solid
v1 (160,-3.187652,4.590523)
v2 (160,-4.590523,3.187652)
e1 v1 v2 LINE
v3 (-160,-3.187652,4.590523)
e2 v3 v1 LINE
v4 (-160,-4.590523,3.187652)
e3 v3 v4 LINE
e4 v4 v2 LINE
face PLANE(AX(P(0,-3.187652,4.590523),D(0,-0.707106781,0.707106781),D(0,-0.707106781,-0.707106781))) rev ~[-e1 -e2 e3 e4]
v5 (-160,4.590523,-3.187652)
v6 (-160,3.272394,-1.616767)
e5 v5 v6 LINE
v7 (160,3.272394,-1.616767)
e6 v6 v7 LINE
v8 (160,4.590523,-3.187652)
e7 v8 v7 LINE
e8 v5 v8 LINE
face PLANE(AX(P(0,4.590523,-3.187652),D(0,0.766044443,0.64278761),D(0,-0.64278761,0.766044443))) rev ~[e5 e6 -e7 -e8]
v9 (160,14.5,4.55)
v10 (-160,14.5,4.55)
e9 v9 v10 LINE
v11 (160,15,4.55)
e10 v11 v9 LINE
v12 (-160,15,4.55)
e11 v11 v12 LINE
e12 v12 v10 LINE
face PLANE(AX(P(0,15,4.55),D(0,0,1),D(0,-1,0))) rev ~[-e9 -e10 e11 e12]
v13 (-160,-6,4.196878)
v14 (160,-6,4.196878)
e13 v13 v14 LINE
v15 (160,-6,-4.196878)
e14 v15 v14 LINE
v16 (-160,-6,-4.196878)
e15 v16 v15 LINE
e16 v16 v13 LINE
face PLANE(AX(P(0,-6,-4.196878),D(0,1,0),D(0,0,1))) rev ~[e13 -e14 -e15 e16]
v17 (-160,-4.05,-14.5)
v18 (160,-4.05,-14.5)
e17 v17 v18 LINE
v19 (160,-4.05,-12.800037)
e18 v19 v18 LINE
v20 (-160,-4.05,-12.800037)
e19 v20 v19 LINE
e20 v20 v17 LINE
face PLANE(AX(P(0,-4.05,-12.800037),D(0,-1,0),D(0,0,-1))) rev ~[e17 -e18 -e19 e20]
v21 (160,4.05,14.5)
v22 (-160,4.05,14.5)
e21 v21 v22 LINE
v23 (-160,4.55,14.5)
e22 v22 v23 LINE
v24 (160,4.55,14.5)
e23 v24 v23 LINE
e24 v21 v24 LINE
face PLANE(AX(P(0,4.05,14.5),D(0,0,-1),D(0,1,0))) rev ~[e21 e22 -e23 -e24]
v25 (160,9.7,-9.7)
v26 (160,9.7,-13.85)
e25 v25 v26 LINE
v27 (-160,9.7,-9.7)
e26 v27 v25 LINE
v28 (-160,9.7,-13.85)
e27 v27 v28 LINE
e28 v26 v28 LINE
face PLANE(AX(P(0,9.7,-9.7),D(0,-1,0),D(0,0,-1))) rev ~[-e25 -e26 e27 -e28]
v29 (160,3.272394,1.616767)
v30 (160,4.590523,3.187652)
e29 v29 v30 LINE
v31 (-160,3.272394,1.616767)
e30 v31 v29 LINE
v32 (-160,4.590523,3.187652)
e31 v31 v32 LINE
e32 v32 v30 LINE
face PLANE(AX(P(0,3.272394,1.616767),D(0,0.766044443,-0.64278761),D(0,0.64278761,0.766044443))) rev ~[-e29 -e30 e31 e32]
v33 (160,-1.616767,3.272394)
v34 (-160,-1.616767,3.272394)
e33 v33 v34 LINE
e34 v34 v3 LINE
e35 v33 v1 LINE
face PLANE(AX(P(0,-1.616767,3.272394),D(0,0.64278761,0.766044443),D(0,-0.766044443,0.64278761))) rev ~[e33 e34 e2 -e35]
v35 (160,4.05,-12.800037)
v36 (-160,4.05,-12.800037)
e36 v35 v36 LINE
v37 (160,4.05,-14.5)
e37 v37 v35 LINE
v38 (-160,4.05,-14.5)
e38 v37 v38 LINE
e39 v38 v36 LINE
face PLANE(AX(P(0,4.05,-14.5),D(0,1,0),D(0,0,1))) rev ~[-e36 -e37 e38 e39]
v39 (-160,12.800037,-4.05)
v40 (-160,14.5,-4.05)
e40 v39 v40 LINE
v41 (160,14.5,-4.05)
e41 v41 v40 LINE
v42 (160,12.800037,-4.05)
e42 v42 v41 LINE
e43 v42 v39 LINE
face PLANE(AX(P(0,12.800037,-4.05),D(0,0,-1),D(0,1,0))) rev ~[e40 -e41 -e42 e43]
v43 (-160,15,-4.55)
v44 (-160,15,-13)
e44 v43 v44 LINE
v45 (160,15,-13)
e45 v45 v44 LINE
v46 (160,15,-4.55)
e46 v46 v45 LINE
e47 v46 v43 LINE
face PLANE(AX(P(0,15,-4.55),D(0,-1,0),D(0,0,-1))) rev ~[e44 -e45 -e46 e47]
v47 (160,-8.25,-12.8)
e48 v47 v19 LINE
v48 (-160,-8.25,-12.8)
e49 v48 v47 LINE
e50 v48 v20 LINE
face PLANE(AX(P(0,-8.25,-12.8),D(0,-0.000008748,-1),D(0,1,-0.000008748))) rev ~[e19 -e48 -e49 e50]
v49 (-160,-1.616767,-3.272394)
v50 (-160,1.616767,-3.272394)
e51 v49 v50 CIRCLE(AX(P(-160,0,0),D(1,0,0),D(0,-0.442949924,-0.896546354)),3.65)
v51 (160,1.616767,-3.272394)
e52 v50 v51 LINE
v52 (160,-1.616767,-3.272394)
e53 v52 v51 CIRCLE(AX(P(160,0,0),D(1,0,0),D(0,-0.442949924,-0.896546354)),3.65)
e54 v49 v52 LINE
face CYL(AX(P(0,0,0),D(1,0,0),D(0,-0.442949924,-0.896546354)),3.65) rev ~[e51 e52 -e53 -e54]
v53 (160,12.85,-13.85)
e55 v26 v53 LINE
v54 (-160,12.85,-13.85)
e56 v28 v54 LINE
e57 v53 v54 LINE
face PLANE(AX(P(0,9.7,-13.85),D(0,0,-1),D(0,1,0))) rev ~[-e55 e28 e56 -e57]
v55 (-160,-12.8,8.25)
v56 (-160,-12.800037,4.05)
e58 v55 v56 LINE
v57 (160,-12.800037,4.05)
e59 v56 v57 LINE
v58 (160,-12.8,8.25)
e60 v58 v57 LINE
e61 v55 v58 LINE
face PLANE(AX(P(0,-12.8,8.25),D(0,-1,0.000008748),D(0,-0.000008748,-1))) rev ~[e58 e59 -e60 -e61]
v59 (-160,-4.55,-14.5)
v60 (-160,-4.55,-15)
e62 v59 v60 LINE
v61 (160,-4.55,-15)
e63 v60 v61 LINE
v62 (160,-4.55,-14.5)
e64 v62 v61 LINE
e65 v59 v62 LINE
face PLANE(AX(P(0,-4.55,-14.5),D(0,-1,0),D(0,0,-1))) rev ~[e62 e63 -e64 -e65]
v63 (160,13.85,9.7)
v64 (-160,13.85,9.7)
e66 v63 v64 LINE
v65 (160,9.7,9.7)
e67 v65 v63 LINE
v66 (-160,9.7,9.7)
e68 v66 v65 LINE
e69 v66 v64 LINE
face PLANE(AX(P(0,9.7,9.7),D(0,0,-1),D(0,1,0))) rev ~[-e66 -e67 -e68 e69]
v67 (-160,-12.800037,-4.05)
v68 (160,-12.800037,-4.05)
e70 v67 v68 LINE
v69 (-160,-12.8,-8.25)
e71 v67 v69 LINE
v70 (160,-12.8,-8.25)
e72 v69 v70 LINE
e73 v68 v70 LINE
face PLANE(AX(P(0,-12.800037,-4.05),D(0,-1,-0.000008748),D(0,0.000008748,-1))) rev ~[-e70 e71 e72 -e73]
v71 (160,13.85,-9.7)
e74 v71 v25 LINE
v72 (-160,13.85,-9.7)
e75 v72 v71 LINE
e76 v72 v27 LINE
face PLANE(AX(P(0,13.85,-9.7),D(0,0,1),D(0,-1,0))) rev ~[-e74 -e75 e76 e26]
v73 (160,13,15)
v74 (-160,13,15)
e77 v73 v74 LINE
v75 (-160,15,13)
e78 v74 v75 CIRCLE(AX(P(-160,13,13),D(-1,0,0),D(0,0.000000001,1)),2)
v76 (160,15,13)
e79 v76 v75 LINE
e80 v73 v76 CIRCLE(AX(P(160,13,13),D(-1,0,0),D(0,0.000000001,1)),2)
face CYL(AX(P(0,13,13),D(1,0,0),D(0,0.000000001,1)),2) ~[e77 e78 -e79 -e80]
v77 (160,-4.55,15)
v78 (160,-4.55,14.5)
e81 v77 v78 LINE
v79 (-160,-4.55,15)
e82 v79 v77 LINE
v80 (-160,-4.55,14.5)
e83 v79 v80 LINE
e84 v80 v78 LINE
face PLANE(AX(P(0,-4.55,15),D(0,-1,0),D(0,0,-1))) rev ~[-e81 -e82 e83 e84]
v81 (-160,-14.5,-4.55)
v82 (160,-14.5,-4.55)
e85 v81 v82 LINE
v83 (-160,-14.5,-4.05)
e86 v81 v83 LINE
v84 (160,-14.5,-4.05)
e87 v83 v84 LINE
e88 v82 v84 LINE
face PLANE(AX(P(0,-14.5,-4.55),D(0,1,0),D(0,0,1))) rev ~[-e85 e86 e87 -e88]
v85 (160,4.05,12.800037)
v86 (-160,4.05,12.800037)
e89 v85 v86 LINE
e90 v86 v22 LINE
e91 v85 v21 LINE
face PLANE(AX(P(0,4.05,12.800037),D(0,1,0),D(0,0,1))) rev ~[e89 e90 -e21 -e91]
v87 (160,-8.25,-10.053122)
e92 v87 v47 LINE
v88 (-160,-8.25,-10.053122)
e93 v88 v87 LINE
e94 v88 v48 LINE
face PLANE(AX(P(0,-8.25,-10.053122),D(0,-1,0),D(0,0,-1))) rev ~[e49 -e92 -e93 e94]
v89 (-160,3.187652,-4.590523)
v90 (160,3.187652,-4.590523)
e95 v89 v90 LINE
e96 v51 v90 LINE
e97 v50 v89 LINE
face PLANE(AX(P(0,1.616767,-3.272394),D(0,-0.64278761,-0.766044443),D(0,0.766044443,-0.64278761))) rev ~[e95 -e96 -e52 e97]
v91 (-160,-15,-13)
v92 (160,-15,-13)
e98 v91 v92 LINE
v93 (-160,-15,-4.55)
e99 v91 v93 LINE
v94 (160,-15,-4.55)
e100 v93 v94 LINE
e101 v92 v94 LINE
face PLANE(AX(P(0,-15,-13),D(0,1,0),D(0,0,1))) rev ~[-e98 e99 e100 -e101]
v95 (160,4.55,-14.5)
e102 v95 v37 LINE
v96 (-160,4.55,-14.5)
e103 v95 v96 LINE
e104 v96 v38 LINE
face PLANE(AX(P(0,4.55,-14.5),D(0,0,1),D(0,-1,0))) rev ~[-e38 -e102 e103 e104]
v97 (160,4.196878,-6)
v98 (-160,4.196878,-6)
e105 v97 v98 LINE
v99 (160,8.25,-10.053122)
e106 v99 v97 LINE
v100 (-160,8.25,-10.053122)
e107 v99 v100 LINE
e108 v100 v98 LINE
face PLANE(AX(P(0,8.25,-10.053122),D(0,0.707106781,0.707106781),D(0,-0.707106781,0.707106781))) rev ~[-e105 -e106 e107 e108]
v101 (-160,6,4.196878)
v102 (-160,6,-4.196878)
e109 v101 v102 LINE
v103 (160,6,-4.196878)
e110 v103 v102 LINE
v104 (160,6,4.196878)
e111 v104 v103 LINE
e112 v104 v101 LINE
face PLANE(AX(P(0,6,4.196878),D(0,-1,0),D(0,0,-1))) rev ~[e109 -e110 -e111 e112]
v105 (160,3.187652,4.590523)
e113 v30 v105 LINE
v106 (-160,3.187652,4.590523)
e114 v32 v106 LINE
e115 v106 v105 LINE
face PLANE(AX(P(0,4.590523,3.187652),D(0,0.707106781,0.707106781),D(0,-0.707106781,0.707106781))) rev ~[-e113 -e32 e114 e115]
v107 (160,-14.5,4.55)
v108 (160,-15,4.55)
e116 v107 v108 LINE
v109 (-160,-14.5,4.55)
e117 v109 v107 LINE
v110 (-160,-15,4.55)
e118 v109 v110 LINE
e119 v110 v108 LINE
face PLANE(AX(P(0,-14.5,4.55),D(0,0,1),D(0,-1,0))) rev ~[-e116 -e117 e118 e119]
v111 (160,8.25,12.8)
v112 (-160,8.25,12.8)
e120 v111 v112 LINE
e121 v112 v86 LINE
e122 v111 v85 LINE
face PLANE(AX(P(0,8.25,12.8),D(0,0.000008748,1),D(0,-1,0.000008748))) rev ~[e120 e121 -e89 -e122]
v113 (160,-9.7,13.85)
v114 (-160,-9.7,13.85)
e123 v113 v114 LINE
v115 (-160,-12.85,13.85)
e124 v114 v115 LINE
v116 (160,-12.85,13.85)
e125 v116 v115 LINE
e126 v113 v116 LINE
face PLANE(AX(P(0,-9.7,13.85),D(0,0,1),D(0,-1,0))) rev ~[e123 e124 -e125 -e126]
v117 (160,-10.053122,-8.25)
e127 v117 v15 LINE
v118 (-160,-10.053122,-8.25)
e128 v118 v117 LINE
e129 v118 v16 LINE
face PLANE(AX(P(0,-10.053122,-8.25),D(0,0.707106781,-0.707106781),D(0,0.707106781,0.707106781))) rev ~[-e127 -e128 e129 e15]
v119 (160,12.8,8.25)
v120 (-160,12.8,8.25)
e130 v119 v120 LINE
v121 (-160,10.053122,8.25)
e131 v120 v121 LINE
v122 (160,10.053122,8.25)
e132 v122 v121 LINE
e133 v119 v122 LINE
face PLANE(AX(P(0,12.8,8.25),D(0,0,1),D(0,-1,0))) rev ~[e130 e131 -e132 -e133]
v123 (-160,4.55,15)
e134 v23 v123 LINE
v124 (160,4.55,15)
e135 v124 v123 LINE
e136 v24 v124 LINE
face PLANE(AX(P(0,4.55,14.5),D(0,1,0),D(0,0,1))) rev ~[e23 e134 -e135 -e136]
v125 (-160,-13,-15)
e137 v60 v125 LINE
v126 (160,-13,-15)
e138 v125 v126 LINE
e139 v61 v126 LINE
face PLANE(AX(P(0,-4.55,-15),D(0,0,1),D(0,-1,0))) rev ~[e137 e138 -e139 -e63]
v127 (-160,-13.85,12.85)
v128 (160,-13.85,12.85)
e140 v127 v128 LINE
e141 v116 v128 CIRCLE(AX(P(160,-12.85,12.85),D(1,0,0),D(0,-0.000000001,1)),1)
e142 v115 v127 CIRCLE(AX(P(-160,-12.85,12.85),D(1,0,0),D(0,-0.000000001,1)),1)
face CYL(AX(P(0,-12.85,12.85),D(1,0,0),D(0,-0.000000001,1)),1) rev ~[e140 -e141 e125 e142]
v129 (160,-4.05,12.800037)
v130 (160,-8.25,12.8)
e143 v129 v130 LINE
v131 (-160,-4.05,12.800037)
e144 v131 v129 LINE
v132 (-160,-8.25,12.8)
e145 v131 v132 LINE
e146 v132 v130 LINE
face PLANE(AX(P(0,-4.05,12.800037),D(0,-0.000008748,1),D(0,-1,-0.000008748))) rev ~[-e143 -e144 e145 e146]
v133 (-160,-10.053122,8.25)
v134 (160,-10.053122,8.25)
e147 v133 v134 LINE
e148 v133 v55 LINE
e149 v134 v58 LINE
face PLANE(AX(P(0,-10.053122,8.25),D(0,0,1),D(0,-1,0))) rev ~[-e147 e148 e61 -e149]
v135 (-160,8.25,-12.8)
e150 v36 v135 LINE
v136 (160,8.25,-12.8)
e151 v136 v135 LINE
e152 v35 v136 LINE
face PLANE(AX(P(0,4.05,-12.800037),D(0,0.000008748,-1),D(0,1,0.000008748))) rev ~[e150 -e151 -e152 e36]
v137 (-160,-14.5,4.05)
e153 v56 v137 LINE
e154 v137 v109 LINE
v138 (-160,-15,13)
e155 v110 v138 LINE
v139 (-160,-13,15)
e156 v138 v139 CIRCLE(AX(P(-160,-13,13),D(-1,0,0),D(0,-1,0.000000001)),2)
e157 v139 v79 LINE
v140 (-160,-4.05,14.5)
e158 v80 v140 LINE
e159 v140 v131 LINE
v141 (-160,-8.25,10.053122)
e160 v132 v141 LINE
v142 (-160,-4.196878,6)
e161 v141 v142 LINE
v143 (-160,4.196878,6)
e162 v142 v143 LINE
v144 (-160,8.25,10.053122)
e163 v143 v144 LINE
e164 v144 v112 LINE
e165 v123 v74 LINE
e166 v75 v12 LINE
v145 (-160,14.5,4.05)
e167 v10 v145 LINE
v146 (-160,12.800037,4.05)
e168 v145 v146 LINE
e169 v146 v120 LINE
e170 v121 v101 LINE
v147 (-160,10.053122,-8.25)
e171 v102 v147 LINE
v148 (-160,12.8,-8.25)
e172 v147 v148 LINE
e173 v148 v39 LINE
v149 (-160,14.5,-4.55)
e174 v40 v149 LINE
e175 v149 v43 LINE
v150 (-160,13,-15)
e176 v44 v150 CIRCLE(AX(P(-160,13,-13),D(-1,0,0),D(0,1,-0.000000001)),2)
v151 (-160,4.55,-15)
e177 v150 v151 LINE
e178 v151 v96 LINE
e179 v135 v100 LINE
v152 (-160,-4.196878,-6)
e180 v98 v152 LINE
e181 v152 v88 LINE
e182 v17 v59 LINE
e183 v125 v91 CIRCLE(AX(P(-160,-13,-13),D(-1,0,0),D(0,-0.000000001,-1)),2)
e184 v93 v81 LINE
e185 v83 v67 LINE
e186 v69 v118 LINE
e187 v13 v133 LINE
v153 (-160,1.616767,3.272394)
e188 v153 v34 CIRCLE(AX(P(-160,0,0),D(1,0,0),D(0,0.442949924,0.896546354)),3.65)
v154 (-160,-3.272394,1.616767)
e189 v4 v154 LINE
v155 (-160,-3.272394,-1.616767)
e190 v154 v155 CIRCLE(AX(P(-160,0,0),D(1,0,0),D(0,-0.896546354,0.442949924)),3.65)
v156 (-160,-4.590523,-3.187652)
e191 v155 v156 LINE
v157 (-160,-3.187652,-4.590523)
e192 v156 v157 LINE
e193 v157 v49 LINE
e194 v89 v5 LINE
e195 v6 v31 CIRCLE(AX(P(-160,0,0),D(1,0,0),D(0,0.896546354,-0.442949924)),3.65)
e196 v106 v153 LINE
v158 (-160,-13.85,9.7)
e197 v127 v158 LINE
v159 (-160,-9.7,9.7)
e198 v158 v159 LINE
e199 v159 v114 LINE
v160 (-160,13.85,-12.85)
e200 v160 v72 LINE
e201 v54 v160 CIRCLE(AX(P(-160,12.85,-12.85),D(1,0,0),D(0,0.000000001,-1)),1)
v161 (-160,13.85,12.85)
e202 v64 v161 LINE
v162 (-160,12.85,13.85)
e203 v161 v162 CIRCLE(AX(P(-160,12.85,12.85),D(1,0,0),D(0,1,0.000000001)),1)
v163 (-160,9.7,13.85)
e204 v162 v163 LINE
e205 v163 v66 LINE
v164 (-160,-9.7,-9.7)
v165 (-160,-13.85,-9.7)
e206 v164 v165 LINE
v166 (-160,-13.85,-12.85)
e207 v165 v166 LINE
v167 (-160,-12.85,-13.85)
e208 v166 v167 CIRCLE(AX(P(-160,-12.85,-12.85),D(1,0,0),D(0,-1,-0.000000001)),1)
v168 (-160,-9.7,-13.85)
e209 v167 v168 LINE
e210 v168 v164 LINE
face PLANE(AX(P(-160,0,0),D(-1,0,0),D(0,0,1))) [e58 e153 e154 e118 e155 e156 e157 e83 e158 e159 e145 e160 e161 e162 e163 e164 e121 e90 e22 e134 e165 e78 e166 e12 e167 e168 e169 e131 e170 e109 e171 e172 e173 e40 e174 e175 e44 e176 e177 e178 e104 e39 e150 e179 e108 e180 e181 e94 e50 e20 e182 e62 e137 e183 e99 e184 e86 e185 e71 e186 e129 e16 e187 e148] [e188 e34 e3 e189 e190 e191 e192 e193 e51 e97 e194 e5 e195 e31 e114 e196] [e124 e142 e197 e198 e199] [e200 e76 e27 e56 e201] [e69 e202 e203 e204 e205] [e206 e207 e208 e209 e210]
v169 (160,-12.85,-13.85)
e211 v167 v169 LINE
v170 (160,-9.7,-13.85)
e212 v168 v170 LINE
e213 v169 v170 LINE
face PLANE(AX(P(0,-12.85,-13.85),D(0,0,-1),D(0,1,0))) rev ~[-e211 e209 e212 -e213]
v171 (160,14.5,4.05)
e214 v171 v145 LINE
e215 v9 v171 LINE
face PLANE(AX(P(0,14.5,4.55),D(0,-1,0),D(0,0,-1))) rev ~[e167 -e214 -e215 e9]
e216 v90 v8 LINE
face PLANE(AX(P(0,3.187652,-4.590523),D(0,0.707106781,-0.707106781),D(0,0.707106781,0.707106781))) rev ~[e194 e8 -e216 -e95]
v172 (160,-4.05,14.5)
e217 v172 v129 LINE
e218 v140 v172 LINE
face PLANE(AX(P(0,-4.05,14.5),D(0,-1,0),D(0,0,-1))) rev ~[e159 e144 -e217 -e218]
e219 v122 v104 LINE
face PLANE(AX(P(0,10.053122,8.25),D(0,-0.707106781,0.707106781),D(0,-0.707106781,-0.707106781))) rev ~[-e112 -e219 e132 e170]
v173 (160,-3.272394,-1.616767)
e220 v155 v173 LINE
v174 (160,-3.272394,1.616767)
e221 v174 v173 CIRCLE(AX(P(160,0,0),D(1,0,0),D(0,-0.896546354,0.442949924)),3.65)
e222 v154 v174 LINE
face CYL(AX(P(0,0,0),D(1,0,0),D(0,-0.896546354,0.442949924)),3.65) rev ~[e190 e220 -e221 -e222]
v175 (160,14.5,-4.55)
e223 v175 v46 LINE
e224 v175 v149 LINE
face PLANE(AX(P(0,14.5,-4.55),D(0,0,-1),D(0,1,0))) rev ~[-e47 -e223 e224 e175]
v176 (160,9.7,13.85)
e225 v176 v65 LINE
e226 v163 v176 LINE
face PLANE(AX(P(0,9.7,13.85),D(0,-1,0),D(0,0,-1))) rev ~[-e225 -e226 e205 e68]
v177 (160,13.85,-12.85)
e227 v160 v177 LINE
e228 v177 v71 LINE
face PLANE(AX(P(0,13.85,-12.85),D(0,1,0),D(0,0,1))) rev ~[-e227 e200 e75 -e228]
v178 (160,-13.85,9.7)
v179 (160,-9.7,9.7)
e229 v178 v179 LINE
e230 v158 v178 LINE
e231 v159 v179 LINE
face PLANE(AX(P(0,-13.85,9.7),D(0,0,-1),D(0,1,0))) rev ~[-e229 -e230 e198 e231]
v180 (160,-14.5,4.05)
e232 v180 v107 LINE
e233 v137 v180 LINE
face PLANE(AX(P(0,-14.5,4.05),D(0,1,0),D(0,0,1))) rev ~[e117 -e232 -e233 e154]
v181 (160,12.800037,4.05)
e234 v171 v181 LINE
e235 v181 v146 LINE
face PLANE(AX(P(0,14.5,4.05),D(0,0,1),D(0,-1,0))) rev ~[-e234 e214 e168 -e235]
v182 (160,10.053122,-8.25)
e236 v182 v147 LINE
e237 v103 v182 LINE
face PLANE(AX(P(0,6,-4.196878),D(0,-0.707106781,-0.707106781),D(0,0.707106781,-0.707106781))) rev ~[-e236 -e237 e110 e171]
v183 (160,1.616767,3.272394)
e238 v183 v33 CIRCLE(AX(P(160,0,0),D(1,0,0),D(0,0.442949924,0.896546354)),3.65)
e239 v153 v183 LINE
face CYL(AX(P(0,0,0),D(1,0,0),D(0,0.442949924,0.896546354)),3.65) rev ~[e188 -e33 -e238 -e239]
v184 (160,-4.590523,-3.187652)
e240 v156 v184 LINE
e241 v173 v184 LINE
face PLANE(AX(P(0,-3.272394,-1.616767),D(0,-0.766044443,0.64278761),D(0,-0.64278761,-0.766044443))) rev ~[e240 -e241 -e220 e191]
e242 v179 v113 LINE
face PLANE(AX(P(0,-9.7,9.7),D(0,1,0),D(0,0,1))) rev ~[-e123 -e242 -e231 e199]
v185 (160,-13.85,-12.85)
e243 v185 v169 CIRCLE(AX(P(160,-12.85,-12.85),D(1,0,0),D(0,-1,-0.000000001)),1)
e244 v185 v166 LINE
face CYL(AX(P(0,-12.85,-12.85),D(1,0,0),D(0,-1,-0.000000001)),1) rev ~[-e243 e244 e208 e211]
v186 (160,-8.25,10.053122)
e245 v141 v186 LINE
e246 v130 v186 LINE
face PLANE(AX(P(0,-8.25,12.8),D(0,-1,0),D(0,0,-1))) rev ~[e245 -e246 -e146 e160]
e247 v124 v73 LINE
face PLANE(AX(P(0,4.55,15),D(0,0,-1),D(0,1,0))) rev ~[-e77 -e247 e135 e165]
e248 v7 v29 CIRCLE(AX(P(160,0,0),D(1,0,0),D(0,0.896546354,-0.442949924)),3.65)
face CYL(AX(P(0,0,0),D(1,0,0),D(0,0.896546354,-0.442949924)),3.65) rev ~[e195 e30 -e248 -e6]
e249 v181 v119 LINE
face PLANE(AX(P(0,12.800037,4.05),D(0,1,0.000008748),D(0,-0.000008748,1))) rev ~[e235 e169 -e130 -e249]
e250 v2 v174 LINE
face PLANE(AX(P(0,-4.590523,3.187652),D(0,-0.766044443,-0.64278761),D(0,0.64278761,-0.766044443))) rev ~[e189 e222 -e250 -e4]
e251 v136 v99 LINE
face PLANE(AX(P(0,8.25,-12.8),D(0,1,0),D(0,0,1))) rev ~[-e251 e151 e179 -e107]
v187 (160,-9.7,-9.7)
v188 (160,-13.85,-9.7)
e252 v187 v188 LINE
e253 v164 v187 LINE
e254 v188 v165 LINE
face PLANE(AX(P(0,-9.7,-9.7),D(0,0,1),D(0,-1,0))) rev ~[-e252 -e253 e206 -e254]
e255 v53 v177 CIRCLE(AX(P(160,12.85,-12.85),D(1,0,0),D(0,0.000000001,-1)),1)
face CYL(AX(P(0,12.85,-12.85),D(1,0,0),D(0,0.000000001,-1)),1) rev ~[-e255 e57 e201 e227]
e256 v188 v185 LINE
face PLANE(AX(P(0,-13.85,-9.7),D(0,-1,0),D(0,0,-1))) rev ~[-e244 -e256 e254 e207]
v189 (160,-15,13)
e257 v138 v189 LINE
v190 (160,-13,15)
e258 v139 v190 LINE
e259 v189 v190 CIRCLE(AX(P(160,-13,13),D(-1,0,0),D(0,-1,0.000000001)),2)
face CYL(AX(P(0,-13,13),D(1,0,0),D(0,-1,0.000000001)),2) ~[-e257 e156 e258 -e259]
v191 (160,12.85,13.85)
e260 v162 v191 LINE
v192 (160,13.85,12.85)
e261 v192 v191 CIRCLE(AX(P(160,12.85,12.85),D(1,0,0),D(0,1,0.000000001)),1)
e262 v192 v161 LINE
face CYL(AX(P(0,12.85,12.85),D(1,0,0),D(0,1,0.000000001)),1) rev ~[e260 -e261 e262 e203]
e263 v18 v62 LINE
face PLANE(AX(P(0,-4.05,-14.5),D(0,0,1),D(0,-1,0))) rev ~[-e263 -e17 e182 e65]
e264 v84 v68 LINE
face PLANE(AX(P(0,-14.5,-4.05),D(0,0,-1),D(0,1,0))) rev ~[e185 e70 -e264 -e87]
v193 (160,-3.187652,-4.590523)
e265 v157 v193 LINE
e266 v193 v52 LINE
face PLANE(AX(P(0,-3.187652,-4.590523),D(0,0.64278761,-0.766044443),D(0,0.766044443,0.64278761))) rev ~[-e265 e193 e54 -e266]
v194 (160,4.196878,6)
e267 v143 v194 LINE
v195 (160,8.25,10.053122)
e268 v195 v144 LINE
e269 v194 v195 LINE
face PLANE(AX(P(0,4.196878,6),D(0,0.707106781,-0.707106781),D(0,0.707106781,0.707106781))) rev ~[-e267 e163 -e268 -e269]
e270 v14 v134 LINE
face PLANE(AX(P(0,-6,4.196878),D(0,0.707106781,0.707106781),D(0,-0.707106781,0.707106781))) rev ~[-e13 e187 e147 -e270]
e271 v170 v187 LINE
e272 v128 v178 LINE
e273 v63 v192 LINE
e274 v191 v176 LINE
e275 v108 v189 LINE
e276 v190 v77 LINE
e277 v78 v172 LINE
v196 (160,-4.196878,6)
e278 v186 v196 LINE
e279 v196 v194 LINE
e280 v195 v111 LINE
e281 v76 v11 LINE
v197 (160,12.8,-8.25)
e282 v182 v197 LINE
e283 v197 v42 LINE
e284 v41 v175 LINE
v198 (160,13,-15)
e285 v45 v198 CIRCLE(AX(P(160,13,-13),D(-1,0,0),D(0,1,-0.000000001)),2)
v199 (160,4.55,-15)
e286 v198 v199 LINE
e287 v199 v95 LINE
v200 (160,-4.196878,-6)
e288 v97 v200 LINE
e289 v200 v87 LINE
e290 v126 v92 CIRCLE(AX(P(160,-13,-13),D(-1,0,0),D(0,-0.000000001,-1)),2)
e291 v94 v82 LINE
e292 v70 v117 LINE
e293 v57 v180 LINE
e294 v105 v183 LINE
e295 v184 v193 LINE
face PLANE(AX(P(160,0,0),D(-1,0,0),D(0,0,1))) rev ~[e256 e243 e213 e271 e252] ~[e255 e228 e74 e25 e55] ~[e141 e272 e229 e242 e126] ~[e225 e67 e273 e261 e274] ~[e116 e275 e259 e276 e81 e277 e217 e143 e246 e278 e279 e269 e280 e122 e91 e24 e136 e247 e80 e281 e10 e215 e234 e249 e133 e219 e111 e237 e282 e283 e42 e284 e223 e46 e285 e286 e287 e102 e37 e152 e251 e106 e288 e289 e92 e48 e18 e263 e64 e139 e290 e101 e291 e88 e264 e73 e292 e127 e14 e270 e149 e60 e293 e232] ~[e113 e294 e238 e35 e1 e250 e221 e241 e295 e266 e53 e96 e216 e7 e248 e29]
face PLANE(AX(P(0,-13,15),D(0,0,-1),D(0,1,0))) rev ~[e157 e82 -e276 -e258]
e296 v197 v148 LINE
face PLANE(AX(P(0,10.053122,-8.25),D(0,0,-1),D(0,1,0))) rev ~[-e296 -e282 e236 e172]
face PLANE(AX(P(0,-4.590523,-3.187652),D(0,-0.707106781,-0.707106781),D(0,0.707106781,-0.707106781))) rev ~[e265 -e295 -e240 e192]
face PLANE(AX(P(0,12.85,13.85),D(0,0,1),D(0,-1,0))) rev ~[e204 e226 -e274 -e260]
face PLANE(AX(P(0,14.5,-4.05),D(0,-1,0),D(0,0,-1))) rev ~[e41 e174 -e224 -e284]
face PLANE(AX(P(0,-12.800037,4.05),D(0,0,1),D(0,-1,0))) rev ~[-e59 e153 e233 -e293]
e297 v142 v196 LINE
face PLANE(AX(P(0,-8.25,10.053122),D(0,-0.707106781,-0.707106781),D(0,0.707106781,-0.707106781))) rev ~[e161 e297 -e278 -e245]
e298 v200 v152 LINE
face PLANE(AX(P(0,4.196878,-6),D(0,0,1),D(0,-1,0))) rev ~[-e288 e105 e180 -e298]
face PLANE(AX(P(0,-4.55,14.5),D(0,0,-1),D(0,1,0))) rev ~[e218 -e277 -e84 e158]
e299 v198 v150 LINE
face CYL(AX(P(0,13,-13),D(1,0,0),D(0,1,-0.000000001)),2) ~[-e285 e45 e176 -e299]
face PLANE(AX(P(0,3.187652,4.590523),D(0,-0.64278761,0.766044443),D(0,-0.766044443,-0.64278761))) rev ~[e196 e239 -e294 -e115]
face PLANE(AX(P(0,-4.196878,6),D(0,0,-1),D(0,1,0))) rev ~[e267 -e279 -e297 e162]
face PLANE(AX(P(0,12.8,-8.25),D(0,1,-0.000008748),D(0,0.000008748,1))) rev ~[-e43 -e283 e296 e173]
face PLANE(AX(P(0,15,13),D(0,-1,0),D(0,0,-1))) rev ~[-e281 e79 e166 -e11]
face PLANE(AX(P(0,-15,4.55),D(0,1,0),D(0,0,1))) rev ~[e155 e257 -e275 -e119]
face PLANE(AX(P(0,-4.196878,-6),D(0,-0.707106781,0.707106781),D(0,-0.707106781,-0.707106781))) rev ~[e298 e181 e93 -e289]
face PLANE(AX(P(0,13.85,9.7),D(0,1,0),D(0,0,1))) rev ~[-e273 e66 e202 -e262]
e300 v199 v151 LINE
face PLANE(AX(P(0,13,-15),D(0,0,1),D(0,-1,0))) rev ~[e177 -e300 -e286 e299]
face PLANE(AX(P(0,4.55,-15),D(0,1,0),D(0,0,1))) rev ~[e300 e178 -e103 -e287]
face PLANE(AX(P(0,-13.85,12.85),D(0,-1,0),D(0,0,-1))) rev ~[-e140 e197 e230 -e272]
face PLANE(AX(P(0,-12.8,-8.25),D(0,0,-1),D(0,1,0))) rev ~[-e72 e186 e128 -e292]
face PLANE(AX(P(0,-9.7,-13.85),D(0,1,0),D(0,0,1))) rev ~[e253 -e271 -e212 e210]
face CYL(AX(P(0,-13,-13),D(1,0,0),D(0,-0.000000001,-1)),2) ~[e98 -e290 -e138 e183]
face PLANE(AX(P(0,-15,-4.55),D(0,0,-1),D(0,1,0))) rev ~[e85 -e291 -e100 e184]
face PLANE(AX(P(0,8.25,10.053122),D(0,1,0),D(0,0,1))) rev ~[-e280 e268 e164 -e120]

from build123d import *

# Parameters (mm, degrees)
BR_EXTRUDE_DEPTH      = 160
BR_EXTRUDE_DEPTH_BACK = 160


with BuildPart() as part:
    # Sketch2 → BR_Extrude (new body, two sides)
    with BuildSketch(Plane(origin=(0, 0, 0), x_dir=(0, 0, -1), z_dir=(1, 0, 0))) as br_extrude_sk:
        with BuildLine():
            Line((-6, 4.196877708), (-10.053122292, 8.25))
            Line((-10.053122292, 8.25), (-12.8, 8.25))
            Line((-12.8, 8.25), (-12.800036742, 4.05))
            Line((-12.800036742, 4.05), (-14.5, 4.05))
            Line((-14.5, 4.05), (-14.5, 4.55))
            Line((-14.5, 4.55), (-15, 4.55))
            Line((-15, 4.55), (-15, 13))
            ThreePointArc((-15, 13), (-14.414213562, 14.414213562), (-13, 15))
            Line((-13, 15), (-4.55, 15))
            Line((-4.55, 15), (-4.55, 14.5))
            Line((-4.55, 14.5), (-4.05, 14.5))
            Line((-4.05, 14.5), (-4.05, 12.800036742))
            Line((-4.05, 12.800036742), (-8.25, 12.8))
            Line((-8.25, 12.8), (-8.25, 10.053122292))
            Line((-8.25, 10.053122292), (-4.196877708, 6))
            Line((-4.196877708, 6), (4.196877708, 6))
            Line((4.196877708, 6), (8.25, 10.053122292))
            Line((8.25, 10.053122292), (8.25, 12.8))
            Line((8.25, 12.8), (4.05, 12.800036742))
            Line((4.05, 12.800036742), (4.05, 14.5))
            Line((4.05, 14.5), (4.55, 14.5))
            Line((4.55, 14.5), (4.55, 15))
            Line((4.55, 15), (13, 15))
            ThreePointArc((13, 15), (14.414213562, 14.414213562), (15, 13))
            Line((15, 13), (15, 4.55))
            Line((15, 4.55), (14.5, 4.55))
            Line((14.5, 4.55), (14.5, 4.05))
            Line((14.5, 4.05), (12.800036742, 4.05))
            Line((12.800036742, 4.05), (12.8, 8.25))
            Line((12.8, 8.25), (10.053122292, 8.25))
            Line((10.053122292, 8.25), (6, 4.196877708))
            Line((6, 4.196877708), (6, -4.196877708))
            Line((6, -4.196877708), (10.053122292, -8.25))
            Line((10.053122292, -8.25), (12.8, -8.25))
            Line((12.8, -8.25), (12.800036742, -4.05))
            Line((12.800036742, -4.05), (14.5, -4.05))
            Line((14.5, -4.05), (14.5, -4.55))
            Line((14.5, -4.55), (15, -4.55))
            Line((15, -4.55), (15, -13))
            ThreePointArc((15, -13), (14.414213562, -14.414213562), (13, -15))
            Line((13, -15), (4.55, -15))
            Line((4.55, -15), (4.55, -14.5))
            Line((4.55, -14.5), (4.05, -14.5))
            Line((4.05, -14.5), (4.05, -12.800036742))
            Line((4.05, -12.800036742), (8.25, -12.8))
            Line((8.25, -12.8), (8.25, -10.053122292))
            Line((8.25, -10.053122292), (4.196877708, -6))
            Line((4.196877708, -6), (-4.196877708, -6))
            Line((-4.196877708, -6), (-8.25, -10.053122292))
            Line((-8.25, -10.053122292), (-8.25, -12.8))
            Line((-8.25, -12.8), (-4.05, -12.800036742))
            Line((-4.05, -12.800036742), (-4.05, -14.5))
            Line((-4.05, -14.5), (-4.55, -14.5))
            Line((-4.55, -14.5), (-4.55, -15))
            Line((-4.55, -15), (-13, -15))
            ThreePointArc((-13, -15), (-14.414213562, -14.414213562), (-15, -13))
            Line((-15, -13), (-15, -4.55))
            Line((-15, -4.55), (-14.5, -4.55))
            Line((-14.5, -4.55), (-14.5, -4.05))
            Line((-14.5, -4.05), (-12.800036742, -4.05))
            Line((-12.800036742, -4.05), (-12.8, -8.25))
            Line((-12.8, -8.25), (-10.053122292, -8.25))
            Line((-10.053122292, -8.25), (-6, -4.196877708))
            Line((-6, -4.196877708), (-6, 4.196877708))
        make_face()
        with BuildLine():
            Line((-13.85, -9.7), (-13.85, -12.85))
            ThreePointArc((-13.85, -12.85), (-13.557106781, -13.557106781), (-12.85, -13.85))
            Line((-12.85, -13.85), (-9.7, -13.85))
            Line((-9.7, -13.85), (-9.7, -9.7))
            Line((-9.7, -9.7), (-13.85, -9.7))
        make_face(mode=Mode.SUBTRACT)
        with BuildLine():
            Line((9.7, -13.85), (12.85, -13.85))
            ThreePointArc((12.85, -13.85), (13.557106781, -13.557106781), (13.85, -12.85))
            Line((13.85, -12.85), (13.85, -9.7))
            Line((13.85, -9.7), (9.7, -9.7))
            Line((9.7, -9.7), (9.7, -13.85))
        make_face(mode=Mode.SUBTRACT)
        with BuildLine():
            Line((13.85, 9.7), (13.85, 12.85))
            ThreePointArc((13.85, 12.85), (13.557106781, 13.557106781), (12.85, 13.85))
            Line((12.85, 13.85), (9.7, 13.85))
            Line((9.7, 13.85), (9.7, 9.7))
            Line((9.7, 9.7), (13.85, 9.7))
        make_face(mode=Mode.SUBTRACT)
        with BuildLine():
            Line((-9.7, 13.85), (-12.85, 13.85))
            ThreePointArc((-12.85, 13.85), (-13.557106781, 13.557106781), (-13.85, 12.85))
            Line((-13.85, 12.85), (-13.85, 9.7))
            Line((-13.85, 9.7), (-9.7, 9.7))
            Line((-9.7, 9.7), (-9.7, 13.85))
        make_face(mode=Mode.SUBTRACT)
        with BuildLine():
            Line((-3.272394192, -1.616767223), (-4.59052283, -3.187651763))
            Line((-4.59052283, -3.187651763), (-3.187651763, -4.59052283))
            Line((-3.187651763, -4.59052283), (-1.616767223, -3.272394192))
            ThreePointArc((-1.616767223, -3.272394192), (0, -3.65), (1.616767223, -3.272394192))
            Line((1.616767223, -3.272394192), (3.187651763, -4.59052283))
            Line((3.187651763, -4.59052283), (4.59052283, -3.187651763))
            Line((4.59052283, -3.187651763), (3.272394192, -1.616767223))
            ThreePointArc((3.272394192, -1.616767223), (3.65, 0), (3.272394192, 1.616767223))
            Line((3.272394192, 1.616767223), (4.59052283, 3.187651763))
            Line((4.59052283, 3.187651763), (3.187651763, 4.59052283))
            Line((3.187651763, 4.59052283), (1.616767223, 3.272394192))
            ThreePointArc((1.616767223, 3.272394192), (0, 3.65), (-1.616767223, 3.272394192))
            Line((-1.616767223, 3.272394192), (-3.187651763, 4.59052283))
            Line((-3.187651763, 4.59052283), (-4.59052283, 3.187651763))
            Line((-4.59052283, 3.187651763), (-3.272394192, 1.616767223))
            ThreePointArc((-3.272394192, 1.616767223), (-3.65, 0), (-3.272394192, -1.616767223))
        make_face(mode=Mode.SUBTRACT)
    extrude(amount=BR_EXTRUDE_DEPTH)
    extrude(br_extrude_sk.sketch, amount=-BR_EXTRUDE_DEPTH_BACK)


solid = part.part
